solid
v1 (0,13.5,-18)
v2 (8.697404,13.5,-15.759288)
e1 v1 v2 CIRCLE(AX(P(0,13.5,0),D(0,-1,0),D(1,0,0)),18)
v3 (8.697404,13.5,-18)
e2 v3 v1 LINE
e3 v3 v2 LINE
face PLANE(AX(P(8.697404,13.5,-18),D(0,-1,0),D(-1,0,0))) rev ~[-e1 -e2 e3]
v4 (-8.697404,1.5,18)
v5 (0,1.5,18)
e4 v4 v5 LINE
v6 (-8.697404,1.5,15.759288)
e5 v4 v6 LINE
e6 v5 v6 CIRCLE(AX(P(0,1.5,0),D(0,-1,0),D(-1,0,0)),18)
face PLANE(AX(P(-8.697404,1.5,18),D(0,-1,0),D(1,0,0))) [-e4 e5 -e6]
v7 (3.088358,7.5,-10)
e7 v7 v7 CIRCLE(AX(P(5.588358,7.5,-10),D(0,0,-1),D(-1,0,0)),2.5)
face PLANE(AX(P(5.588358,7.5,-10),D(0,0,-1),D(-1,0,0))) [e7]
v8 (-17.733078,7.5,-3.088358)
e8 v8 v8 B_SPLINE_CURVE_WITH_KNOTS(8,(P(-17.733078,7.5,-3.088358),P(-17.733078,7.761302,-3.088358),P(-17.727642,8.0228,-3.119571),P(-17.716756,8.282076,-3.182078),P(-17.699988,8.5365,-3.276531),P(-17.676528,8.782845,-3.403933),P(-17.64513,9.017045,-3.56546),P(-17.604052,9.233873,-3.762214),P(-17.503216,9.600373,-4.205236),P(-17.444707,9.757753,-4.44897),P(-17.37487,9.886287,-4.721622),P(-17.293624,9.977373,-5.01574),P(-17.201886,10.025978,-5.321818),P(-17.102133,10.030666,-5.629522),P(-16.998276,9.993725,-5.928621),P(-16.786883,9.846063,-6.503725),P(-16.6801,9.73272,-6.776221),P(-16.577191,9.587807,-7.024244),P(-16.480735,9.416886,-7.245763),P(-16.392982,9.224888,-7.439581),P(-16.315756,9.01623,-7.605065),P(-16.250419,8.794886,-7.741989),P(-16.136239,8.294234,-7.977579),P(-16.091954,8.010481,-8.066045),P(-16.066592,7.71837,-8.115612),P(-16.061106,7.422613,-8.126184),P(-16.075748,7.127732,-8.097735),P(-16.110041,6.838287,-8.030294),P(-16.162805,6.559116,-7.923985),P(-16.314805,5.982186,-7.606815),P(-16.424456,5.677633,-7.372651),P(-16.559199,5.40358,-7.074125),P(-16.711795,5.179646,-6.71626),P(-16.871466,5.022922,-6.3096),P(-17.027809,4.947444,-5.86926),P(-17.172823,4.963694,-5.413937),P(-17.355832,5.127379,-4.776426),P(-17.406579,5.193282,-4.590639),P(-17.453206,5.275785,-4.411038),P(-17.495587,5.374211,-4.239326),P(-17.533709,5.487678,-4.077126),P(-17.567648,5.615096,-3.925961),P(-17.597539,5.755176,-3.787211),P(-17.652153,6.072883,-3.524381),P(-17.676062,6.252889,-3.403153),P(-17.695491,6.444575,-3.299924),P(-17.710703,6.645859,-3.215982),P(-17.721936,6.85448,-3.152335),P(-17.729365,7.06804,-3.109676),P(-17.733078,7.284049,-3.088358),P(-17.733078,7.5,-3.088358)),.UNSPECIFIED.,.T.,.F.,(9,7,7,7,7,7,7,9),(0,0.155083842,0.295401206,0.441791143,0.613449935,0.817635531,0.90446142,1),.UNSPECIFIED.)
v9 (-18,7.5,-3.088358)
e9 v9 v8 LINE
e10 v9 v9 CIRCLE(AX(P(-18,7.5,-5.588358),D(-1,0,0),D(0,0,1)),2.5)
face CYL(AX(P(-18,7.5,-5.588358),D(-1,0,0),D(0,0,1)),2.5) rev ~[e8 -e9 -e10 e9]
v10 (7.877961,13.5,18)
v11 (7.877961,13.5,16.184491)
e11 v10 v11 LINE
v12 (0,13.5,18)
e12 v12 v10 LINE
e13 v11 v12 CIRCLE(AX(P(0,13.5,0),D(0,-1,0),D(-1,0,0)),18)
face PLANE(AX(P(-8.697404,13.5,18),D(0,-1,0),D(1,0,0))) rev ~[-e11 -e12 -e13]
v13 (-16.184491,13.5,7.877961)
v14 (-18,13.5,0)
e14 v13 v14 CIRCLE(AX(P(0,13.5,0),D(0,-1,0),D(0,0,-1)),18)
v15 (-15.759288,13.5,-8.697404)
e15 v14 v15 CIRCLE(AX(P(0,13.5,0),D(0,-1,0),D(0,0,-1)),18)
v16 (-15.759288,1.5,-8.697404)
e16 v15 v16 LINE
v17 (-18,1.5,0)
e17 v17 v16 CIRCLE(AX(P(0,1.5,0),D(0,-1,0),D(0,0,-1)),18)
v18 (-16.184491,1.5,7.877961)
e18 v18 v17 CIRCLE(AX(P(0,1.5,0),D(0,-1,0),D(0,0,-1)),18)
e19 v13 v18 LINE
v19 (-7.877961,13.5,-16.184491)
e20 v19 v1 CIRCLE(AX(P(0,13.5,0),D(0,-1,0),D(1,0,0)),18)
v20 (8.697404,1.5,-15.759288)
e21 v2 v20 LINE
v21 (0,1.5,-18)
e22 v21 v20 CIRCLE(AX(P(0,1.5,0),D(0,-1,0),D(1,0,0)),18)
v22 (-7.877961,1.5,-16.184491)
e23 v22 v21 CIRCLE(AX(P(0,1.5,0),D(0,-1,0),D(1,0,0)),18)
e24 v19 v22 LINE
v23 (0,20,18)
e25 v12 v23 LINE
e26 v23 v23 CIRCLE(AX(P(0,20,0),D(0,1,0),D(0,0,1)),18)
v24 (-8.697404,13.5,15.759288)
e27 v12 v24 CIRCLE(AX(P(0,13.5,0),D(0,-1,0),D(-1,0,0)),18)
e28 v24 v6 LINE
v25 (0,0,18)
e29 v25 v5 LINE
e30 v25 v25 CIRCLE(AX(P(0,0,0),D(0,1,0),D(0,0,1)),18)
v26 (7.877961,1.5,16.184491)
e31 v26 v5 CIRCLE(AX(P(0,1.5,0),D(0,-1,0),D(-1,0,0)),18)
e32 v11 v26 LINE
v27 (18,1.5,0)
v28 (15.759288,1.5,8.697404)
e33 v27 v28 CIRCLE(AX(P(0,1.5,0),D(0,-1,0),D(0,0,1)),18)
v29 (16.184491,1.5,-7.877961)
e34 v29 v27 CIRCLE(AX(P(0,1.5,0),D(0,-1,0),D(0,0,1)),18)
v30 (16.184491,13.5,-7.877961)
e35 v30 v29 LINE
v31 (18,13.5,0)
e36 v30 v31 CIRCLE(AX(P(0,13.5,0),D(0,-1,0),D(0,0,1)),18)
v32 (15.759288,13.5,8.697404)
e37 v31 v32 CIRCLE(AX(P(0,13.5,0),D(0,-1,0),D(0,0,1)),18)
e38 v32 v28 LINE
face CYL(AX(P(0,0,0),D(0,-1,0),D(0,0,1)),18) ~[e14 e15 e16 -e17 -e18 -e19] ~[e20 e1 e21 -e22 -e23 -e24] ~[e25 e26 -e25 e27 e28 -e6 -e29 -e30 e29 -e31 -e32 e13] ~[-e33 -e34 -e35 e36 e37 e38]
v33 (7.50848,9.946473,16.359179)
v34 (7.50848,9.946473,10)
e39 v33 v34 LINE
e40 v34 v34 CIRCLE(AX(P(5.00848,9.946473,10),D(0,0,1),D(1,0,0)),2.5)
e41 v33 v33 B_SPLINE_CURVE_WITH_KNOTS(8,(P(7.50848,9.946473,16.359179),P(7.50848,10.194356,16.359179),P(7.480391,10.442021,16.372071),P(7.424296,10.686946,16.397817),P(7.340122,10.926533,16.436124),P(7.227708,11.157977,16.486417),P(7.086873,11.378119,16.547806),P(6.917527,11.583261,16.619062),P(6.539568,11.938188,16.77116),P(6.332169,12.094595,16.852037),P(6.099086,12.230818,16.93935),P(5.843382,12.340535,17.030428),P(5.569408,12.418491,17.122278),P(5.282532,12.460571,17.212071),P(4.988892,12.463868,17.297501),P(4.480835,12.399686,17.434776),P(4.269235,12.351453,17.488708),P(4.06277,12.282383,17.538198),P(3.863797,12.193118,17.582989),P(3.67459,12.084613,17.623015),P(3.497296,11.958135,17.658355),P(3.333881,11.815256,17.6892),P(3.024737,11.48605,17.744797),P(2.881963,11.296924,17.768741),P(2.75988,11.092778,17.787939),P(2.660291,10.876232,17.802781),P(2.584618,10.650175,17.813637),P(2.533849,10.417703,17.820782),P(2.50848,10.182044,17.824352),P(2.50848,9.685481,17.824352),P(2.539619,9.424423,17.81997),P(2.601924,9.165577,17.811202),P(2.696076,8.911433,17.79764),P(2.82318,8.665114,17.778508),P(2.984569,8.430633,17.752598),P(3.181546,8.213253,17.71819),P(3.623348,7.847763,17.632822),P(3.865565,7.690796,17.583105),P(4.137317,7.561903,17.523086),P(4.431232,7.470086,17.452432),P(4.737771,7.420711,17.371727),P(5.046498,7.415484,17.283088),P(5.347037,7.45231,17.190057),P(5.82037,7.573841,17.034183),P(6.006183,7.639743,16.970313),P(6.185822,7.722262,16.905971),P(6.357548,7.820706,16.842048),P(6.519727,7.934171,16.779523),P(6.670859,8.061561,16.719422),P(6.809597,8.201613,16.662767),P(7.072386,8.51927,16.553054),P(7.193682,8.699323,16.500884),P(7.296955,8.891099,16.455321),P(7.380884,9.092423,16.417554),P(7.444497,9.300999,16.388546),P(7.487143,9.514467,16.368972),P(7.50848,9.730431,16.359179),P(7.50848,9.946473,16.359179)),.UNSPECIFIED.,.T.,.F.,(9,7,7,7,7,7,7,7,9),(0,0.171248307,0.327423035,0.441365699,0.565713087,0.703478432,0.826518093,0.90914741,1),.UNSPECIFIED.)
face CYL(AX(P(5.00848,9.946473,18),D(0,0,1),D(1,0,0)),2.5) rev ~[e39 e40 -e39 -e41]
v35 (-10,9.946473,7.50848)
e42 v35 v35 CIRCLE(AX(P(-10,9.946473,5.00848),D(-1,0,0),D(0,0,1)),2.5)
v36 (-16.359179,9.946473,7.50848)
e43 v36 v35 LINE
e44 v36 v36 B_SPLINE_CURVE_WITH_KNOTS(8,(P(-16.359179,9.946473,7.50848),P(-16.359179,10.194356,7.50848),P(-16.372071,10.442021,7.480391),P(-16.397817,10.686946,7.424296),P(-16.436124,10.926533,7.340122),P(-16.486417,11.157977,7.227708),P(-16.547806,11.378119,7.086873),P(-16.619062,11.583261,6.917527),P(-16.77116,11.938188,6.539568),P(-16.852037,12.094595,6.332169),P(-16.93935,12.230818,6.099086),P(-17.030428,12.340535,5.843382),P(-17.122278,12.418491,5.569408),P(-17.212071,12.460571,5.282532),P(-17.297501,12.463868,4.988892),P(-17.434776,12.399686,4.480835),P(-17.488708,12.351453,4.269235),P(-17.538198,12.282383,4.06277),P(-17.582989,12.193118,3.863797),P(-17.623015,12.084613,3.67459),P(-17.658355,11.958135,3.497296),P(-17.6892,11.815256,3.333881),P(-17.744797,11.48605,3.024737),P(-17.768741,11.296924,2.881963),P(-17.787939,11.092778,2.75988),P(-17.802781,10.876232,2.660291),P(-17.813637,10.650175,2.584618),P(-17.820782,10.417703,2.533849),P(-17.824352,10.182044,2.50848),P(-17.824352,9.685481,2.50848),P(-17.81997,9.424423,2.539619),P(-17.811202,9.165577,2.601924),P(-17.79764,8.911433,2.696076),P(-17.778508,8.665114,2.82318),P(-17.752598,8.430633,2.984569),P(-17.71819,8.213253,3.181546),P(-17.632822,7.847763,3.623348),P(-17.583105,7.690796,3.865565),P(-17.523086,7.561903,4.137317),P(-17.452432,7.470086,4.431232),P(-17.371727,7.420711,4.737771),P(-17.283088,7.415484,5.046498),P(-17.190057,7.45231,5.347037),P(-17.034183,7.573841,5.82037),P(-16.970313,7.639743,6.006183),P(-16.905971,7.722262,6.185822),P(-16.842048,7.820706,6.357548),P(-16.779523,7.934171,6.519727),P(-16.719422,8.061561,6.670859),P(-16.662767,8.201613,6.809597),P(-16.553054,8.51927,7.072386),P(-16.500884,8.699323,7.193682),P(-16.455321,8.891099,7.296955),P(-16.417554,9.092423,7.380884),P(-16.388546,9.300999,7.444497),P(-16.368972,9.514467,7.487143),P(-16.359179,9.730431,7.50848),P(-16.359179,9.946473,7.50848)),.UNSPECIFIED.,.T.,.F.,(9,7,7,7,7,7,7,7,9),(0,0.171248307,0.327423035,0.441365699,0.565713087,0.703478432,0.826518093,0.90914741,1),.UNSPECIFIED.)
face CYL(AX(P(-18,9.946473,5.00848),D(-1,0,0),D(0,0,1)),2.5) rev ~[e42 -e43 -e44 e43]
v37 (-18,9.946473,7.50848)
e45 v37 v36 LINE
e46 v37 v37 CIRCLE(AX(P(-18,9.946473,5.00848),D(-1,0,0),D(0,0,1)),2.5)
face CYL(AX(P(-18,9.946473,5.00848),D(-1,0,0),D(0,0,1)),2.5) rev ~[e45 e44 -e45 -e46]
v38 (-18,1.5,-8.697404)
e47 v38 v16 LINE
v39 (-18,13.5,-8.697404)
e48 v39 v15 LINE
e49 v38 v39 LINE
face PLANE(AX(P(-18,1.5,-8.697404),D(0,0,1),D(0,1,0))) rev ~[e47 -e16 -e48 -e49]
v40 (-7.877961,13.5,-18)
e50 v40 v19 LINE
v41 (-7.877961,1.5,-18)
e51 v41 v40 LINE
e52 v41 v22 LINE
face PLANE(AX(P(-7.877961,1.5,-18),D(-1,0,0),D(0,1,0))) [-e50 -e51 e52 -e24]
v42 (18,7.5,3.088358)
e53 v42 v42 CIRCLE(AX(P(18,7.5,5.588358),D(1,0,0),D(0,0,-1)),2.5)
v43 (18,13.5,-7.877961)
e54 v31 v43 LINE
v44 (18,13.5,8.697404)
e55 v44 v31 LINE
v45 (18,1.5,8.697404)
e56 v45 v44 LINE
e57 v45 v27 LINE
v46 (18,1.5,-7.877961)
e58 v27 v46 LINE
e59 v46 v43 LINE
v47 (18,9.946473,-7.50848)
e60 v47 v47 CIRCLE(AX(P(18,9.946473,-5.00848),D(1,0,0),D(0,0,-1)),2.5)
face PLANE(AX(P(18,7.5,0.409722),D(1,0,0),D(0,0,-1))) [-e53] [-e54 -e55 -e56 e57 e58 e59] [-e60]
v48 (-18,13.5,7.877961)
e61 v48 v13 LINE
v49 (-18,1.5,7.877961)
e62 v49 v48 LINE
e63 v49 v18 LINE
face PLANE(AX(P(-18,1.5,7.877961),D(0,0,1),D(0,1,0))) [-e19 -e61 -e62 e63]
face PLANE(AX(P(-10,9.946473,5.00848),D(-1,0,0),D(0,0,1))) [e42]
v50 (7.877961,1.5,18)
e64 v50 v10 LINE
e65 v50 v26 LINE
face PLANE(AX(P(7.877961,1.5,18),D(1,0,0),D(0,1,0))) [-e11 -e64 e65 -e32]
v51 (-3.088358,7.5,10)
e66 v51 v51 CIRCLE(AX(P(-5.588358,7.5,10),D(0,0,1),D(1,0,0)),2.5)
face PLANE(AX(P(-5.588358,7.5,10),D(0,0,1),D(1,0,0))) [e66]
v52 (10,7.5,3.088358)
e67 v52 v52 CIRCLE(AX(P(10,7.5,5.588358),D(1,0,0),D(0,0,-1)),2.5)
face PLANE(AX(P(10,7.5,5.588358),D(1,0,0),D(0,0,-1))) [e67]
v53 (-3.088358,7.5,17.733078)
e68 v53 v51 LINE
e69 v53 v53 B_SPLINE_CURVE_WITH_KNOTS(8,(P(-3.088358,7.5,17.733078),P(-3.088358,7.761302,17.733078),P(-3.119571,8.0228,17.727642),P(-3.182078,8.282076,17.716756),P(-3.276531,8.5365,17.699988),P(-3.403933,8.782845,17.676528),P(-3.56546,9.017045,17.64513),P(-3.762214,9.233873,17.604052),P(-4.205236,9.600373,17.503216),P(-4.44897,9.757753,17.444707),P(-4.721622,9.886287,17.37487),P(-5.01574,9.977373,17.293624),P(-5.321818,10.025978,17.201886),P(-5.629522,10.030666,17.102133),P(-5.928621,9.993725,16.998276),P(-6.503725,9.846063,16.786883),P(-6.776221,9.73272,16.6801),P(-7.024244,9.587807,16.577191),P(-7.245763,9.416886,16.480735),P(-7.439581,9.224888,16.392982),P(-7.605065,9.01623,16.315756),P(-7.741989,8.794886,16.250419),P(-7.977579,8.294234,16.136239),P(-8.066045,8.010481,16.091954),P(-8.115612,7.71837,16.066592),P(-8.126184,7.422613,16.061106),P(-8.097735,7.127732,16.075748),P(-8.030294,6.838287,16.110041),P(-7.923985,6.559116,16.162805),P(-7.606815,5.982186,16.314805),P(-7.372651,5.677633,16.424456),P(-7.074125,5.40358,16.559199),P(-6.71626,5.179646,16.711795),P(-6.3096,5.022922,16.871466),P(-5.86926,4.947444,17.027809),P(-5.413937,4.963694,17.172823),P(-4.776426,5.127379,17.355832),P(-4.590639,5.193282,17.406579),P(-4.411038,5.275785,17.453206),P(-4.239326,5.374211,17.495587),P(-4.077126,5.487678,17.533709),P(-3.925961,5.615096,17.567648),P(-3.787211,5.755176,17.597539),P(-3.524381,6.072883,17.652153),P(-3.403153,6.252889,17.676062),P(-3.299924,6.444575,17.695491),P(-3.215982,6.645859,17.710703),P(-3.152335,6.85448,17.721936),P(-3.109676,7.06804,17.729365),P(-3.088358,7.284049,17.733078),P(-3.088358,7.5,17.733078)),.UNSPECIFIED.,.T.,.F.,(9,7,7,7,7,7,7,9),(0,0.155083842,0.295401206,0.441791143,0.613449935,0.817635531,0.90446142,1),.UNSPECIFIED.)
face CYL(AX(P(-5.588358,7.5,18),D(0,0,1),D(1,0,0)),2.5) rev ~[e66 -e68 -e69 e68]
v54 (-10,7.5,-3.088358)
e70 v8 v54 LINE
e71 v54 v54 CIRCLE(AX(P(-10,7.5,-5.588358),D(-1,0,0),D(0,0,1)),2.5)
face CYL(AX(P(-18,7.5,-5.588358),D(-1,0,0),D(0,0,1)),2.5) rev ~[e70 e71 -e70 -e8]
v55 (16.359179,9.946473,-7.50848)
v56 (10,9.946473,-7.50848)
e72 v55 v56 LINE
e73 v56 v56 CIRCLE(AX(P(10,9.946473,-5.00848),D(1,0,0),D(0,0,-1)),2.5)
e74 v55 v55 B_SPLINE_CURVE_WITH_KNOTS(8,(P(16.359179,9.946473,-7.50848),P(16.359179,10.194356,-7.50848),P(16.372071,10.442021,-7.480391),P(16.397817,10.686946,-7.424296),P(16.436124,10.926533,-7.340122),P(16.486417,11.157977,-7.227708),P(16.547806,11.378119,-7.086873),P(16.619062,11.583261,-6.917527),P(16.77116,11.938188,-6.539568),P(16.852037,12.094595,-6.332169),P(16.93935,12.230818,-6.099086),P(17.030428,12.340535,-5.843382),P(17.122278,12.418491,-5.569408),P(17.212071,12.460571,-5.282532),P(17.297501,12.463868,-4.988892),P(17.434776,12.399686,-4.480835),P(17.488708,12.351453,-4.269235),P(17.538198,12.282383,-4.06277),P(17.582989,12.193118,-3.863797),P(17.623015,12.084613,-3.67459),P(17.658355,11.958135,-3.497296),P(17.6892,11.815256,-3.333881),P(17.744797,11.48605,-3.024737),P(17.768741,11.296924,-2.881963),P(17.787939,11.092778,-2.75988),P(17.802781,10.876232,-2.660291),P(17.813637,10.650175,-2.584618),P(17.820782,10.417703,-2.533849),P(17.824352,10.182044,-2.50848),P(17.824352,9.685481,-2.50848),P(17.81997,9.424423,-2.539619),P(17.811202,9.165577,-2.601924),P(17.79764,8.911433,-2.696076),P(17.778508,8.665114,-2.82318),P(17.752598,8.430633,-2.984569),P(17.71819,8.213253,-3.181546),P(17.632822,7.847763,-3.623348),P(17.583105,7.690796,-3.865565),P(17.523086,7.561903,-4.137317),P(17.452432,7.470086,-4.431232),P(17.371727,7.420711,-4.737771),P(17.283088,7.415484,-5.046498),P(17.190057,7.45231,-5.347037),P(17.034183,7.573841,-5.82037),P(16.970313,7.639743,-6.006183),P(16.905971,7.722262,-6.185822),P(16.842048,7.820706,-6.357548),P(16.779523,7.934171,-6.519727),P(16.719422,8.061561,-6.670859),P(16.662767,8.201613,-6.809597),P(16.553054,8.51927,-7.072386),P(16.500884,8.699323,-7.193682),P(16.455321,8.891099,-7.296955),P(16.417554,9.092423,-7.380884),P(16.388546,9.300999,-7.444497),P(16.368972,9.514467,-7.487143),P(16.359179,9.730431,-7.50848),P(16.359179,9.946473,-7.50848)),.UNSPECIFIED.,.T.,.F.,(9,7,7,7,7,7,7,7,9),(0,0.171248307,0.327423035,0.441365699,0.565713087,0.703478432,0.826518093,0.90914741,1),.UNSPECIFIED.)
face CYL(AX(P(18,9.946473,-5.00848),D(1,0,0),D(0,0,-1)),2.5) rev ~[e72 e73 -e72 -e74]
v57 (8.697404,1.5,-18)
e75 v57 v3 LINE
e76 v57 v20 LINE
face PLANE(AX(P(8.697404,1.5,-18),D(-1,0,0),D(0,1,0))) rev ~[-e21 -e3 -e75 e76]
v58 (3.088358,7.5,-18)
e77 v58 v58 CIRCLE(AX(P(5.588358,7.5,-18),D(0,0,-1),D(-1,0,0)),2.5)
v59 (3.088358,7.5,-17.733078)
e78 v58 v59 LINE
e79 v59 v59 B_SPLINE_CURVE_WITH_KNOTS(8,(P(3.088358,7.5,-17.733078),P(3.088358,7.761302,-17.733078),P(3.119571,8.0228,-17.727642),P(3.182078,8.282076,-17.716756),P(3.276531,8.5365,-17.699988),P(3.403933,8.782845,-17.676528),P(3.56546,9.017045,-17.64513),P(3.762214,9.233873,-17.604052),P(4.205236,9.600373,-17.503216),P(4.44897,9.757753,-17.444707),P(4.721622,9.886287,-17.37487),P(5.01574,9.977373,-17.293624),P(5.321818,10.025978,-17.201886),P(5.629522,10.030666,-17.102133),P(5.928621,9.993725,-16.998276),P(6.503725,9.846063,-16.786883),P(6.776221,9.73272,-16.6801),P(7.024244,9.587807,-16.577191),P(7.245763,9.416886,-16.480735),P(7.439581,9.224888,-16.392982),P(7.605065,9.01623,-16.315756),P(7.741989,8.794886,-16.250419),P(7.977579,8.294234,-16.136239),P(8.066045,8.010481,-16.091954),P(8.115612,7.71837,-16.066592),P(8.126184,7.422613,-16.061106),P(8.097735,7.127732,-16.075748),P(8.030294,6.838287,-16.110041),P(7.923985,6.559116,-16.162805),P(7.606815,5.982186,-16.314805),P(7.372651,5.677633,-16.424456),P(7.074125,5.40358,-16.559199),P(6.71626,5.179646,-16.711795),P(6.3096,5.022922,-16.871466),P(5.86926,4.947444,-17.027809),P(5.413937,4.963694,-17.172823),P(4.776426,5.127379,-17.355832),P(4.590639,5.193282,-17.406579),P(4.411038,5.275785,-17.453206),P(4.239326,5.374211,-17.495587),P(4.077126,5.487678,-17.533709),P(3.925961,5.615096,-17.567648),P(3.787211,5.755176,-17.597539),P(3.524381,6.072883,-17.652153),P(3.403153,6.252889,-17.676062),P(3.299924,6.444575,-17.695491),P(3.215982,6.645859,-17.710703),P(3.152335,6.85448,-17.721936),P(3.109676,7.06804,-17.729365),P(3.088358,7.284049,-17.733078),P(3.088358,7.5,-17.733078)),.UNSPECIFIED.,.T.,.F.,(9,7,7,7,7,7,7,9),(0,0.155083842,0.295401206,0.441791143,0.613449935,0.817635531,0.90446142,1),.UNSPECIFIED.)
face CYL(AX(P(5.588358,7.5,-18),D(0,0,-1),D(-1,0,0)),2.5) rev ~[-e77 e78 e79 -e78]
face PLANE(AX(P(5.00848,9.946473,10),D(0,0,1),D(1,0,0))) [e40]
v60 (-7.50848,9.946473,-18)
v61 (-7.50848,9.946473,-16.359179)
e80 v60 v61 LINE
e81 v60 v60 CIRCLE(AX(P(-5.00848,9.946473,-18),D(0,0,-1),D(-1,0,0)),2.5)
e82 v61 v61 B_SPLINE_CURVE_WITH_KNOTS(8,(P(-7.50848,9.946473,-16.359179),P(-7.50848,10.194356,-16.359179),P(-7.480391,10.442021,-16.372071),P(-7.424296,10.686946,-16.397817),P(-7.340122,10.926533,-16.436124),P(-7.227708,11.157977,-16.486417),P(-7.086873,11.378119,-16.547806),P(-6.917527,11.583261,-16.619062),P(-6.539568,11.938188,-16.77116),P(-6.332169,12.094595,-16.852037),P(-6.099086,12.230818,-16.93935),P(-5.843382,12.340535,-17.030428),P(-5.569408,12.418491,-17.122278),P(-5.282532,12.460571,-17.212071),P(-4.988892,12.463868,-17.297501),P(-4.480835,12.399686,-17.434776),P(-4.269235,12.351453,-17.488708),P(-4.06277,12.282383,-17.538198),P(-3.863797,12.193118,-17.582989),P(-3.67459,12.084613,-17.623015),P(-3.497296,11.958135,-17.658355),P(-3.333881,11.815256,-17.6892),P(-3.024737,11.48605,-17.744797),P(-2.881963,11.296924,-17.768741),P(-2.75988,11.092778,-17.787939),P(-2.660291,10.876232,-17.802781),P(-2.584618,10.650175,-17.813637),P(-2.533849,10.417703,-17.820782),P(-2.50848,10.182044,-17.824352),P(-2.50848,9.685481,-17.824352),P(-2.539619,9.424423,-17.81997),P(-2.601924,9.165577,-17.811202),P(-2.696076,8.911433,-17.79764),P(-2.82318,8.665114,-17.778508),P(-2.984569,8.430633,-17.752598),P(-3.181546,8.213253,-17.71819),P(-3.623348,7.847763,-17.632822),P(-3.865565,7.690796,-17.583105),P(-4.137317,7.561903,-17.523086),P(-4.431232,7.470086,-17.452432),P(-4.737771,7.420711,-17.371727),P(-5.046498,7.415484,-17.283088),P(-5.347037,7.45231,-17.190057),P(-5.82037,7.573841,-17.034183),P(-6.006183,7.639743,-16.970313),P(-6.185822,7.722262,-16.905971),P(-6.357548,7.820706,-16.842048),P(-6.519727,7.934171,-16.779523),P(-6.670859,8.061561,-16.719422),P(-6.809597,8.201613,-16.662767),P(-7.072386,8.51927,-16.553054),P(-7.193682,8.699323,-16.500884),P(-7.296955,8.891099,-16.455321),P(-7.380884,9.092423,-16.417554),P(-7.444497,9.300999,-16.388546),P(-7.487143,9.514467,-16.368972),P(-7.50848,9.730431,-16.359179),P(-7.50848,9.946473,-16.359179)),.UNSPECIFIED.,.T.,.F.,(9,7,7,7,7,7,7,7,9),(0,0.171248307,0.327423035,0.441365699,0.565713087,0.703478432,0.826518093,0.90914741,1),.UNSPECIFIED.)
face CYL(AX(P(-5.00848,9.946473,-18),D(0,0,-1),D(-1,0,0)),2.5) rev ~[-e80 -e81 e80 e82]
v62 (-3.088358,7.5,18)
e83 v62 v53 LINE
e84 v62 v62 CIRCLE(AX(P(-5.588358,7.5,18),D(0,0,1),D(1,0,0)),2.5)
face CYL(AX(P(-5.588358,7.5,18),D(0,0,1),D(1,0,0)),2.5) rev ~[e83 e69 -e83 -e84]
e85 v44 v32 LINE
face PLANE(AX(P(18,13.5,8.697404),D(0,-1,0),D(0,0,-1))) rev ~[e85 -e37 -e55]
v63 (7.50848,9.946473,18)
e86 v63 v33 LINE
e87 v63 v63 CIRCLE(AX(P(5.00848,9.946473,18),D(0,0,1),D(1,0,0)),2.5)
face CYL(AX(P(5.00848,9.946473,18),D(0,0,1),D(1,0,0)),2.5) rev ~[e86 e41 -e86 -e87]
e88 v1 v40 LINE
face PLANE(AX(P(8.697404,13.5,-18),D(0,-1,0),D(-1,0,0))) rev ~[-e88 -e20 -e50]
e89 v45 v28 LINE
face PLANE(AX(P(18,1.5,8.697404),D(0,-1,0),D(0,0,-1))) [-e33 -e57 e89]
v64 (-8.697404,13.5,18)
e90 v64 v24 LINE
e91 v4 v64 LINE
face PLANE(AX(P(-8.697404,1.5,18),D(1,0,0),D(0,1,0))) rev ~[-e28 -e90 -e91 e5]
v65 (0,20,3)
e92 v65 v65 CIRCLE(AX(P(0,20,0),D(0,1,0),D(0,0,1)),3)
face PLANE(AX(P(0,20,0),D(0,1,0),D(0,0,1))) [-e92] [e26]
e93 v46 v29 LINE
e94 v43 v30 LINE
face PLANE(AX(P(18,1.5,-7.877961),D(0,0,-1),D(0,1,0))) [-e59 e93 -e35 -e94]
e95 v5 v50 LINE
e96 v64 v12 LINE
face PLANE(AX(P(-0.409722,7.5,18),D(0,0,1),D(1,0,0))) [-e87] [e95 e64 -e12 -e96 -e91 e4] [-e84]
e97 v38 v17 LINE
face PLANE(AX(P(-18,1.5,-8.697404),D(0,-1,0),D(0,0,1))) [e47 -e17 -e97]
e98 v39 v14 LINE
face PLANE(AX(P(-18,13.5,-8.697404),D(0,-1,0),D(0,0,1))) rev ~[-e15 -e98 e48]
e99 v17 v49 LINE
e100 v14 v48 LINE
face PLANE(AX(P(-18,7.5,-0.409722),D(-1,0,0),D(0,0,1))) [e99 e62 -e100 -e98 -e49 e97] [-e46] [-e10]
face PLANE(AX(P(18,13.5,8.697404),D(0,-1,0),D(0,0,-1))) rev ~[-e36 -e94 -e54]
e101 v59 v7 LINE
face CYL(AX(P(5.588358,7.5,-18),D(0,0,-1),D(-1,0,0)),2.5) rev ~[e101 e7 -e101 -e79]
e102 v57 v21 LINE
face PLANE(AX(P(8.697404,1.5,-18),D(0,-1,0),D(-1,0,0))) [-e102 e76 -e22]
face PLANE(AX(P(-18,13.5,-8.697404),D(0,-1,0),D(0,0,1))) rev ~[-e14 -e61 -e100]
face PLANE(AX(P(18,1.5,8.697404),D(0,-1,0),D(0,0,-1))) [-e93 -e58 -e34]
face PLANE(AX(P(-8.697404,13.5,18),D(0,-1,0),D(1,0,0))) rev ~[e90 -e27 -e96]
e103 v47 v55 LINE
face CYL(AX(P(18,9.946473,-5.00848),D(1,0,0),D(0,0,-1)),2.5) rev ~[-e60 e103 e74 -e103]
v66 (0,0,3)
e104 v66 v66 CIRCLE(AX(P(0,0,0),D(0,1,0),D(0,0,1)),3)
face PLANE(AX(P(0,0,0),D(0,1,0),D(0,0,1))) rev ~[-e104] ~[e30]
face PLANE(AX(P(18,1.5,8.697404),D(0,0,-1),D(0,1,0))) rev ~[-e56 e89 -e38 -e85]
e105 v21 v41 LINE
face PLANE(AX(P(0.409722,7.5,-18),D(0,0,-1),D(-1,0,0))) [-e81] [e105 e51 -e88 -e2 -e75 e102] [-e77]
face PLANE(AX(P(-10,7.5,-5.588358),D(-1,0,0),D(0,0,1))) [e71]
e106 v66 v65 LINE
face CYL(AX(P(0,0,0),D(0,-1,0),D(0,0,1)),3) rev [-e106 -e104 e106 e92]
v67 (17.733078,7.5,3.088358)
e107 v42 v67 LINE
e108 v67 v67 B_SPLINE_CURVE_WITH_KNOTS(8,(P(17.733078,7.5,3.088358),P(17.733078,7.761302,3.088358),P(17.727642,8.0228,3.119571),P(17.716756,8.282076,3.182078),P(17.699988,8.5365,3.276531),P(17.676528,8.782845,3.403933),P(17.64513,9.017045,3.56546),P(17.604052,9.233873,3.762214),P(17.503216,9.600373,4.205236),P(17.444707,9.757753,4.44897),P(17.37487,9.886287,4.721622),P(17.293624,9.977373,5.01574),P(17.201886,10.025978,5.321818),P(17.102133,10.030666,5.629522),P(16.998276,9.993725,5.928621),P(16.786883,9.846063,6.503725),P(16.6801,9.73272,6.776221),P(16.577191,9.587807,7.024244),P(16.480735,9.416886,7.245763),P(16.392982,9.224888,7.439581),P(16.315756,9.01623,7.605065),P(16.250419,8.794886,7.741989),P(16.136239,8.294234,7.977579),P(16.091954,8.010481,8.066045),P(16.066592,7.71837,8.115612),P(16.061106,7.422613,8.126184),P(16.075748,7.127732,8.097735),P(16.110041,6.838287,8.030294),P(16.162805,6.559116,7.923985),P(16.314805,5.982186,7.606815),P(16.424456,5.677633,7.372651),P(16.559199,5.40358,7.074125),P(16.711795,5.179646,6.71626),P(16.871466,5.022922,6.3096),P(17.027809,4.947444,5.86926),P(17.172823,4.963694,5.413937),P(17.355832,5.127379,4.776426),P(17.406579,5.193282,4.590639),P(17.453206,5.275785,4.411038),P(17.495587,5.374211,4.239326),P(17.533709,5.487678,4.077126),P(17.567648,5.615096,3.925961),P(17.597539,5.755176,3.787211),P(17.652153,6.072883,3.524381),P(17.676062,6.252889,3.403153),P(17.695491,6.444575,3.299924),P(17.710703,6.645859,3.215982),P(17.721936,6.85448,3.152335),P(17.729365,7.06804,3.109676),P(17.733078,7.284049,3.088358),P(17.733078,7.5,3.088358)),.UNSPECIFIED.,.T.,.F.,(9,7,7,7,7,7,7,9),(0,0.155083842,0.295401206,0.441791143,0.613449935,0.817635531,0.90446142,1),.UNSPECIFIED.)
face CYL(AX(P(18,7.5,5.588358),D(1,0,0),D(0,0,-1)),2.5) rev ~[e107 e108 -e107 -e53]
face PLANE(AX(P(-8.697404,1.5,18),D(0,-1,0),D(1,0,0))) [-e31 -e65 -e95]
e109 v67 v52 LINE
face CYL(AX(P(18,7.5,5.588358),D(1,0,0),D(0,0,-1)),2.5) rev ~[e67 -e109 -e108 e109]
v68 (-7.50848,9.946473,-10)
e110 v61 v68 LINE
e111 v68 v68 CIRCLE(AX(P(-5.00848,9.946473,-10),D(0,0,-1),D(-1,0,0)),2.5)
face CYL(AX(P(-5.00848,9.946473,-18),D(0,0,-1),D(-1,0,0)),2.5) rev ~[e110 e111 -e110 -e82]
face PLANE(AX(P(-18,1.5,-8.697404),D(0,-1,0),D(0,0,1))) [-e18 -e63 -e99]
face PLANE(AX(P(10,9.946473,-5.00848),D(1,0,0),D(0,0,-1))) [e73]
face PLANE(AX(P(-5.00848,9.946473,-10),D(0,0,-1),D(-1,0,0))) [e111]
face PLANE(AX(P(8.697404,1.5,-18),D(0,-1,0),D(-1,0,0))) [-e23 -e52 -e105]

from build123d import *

# Parameters (mm, degrees)
ESQUISSE1_R                  = 18
ESQUISSE1_R_2                = 3
BOSS_EXTRU_1_DEPTH           = 20
BOSS_EXTRU_2_REACH           = 46.944
BOSS_EXTRU_2_END_RADIUS      = 18
ESQUISSE2_W                  = 16.575364331
ESQUISSE2_H                  = 12
ESQUISSE2_R                  = 2.5
ESQUISSE3_R                  = 2.5
ENL_V_MAT_EXTRU_1_DEPTH      = 8
R_P_TITION_CIRCULAIRE1_COUNT = 4


with BuildPart() as part:
    # Esquisse1 → Boss.-Extru.1 (new body)
    with BuildSketch(Plane(origin=(0, 0, 0), x_dir=(1, 0, 0), z_dir=(0, 1, 0))):
        with Locations(Location((0, 0, 0), (0, 0, 270))):
            Circle(ESQUISSE1_R)
        with Locations(Location((0, 0, 0), (0, 0, 270))):
            Circle(ESQUISSE1_R_2, mode=Mode.SUBTRACT)
    extrude(amount=BOSS_EXTRU_1_DEPTH)

    # Boss.-Extru.2: up to this cylinder (the profile starts outside it)
    boss_extru_2_end = Plane(origin=(0, 7.199085, 0), z_dir=(0, -1, 0)) * Cylinder(BOSS_EXTRU_2_END_RADIUS, 130.888, mode=Mode.PRIVATE)
    # Esquisse2 → Boss.-Extru.2 (add, up to the surface)
    with BuildSketch(Plane.ZY.offset(18), mode=Mode.PRIVATE) as boss_extru_2_sk1:
        with Locations((-0.409721573, 7.5)):
            Rectangle(ESQUISSE2_W, ESQUISSE2_H)
        with Locations((-5.58835764, 7.5)):
            Circle(ESQUISSE2_R, mode=Mode.SUBTRACT)
        with Locations((5.008479737, 9.946472677)):
            Circle(ESQUISSE2_R, mode=Mode.SUBTRACT)
    boss_extru_2_tool1 = extrude(boss_extru_2_sk1.sketch, amount=-BOSS_EXTRU_2_REACH, mode=Mode.PRIVATE) - boss_extru_2_end
    boss_extru_2 = boss_extru_2_tool1.solids().sort_by_distance((-18, 7.199085, -0.439188))[0] + boss_extru_2_tool1.solids().sort_by_distance((-18, 7.199085, -0.439188))[1]
    add(boss_extru_2)

    # Esquisse3 → Enlèv. mat.-Extru.1 (cut)
    with BuildSketch(Plane.ZY.offset(18)):
        with Locations((5.008479737, 9.946472677)):
            Circle(ESQUISSE3_R)
        with Locations((-5.58835764, 7.5)):
            Circle(ESQUISSE3_R)
    enl_v_mat_extru_1 = extrude(amount=-ENL_V_MAT_EXTRU_1_DEPTH, mode=Mode.SUBTRACT)

    # Répétition circulaire1: Boss.-Extru.2, Enlèv. mat.-Extru.1 ×4 about axis
    r_p_tition_circulaire1_axis = Axis((0, 0, 0), (0, 1, 0))
    add([boss_extru_2.rotate(r_p_tition_circulaire1_axis, i * 360 / R_P_TITION_CIRCULAIRE1_COUNT) for i in range(1, R_P_TITION_CIRCULAIRE1_COUNT)])
    add([enl_v_mat_extru_1.rotate(r_p_tition_circulaire1_axis, i * 360 / R_P_TITION_CIRCULAIRE1_COUNT) for i in range(1, R_P_TITION_CIRCULAIRE1_COUNT)], mode=Mode.SUBTRACT)


solid = part.part
